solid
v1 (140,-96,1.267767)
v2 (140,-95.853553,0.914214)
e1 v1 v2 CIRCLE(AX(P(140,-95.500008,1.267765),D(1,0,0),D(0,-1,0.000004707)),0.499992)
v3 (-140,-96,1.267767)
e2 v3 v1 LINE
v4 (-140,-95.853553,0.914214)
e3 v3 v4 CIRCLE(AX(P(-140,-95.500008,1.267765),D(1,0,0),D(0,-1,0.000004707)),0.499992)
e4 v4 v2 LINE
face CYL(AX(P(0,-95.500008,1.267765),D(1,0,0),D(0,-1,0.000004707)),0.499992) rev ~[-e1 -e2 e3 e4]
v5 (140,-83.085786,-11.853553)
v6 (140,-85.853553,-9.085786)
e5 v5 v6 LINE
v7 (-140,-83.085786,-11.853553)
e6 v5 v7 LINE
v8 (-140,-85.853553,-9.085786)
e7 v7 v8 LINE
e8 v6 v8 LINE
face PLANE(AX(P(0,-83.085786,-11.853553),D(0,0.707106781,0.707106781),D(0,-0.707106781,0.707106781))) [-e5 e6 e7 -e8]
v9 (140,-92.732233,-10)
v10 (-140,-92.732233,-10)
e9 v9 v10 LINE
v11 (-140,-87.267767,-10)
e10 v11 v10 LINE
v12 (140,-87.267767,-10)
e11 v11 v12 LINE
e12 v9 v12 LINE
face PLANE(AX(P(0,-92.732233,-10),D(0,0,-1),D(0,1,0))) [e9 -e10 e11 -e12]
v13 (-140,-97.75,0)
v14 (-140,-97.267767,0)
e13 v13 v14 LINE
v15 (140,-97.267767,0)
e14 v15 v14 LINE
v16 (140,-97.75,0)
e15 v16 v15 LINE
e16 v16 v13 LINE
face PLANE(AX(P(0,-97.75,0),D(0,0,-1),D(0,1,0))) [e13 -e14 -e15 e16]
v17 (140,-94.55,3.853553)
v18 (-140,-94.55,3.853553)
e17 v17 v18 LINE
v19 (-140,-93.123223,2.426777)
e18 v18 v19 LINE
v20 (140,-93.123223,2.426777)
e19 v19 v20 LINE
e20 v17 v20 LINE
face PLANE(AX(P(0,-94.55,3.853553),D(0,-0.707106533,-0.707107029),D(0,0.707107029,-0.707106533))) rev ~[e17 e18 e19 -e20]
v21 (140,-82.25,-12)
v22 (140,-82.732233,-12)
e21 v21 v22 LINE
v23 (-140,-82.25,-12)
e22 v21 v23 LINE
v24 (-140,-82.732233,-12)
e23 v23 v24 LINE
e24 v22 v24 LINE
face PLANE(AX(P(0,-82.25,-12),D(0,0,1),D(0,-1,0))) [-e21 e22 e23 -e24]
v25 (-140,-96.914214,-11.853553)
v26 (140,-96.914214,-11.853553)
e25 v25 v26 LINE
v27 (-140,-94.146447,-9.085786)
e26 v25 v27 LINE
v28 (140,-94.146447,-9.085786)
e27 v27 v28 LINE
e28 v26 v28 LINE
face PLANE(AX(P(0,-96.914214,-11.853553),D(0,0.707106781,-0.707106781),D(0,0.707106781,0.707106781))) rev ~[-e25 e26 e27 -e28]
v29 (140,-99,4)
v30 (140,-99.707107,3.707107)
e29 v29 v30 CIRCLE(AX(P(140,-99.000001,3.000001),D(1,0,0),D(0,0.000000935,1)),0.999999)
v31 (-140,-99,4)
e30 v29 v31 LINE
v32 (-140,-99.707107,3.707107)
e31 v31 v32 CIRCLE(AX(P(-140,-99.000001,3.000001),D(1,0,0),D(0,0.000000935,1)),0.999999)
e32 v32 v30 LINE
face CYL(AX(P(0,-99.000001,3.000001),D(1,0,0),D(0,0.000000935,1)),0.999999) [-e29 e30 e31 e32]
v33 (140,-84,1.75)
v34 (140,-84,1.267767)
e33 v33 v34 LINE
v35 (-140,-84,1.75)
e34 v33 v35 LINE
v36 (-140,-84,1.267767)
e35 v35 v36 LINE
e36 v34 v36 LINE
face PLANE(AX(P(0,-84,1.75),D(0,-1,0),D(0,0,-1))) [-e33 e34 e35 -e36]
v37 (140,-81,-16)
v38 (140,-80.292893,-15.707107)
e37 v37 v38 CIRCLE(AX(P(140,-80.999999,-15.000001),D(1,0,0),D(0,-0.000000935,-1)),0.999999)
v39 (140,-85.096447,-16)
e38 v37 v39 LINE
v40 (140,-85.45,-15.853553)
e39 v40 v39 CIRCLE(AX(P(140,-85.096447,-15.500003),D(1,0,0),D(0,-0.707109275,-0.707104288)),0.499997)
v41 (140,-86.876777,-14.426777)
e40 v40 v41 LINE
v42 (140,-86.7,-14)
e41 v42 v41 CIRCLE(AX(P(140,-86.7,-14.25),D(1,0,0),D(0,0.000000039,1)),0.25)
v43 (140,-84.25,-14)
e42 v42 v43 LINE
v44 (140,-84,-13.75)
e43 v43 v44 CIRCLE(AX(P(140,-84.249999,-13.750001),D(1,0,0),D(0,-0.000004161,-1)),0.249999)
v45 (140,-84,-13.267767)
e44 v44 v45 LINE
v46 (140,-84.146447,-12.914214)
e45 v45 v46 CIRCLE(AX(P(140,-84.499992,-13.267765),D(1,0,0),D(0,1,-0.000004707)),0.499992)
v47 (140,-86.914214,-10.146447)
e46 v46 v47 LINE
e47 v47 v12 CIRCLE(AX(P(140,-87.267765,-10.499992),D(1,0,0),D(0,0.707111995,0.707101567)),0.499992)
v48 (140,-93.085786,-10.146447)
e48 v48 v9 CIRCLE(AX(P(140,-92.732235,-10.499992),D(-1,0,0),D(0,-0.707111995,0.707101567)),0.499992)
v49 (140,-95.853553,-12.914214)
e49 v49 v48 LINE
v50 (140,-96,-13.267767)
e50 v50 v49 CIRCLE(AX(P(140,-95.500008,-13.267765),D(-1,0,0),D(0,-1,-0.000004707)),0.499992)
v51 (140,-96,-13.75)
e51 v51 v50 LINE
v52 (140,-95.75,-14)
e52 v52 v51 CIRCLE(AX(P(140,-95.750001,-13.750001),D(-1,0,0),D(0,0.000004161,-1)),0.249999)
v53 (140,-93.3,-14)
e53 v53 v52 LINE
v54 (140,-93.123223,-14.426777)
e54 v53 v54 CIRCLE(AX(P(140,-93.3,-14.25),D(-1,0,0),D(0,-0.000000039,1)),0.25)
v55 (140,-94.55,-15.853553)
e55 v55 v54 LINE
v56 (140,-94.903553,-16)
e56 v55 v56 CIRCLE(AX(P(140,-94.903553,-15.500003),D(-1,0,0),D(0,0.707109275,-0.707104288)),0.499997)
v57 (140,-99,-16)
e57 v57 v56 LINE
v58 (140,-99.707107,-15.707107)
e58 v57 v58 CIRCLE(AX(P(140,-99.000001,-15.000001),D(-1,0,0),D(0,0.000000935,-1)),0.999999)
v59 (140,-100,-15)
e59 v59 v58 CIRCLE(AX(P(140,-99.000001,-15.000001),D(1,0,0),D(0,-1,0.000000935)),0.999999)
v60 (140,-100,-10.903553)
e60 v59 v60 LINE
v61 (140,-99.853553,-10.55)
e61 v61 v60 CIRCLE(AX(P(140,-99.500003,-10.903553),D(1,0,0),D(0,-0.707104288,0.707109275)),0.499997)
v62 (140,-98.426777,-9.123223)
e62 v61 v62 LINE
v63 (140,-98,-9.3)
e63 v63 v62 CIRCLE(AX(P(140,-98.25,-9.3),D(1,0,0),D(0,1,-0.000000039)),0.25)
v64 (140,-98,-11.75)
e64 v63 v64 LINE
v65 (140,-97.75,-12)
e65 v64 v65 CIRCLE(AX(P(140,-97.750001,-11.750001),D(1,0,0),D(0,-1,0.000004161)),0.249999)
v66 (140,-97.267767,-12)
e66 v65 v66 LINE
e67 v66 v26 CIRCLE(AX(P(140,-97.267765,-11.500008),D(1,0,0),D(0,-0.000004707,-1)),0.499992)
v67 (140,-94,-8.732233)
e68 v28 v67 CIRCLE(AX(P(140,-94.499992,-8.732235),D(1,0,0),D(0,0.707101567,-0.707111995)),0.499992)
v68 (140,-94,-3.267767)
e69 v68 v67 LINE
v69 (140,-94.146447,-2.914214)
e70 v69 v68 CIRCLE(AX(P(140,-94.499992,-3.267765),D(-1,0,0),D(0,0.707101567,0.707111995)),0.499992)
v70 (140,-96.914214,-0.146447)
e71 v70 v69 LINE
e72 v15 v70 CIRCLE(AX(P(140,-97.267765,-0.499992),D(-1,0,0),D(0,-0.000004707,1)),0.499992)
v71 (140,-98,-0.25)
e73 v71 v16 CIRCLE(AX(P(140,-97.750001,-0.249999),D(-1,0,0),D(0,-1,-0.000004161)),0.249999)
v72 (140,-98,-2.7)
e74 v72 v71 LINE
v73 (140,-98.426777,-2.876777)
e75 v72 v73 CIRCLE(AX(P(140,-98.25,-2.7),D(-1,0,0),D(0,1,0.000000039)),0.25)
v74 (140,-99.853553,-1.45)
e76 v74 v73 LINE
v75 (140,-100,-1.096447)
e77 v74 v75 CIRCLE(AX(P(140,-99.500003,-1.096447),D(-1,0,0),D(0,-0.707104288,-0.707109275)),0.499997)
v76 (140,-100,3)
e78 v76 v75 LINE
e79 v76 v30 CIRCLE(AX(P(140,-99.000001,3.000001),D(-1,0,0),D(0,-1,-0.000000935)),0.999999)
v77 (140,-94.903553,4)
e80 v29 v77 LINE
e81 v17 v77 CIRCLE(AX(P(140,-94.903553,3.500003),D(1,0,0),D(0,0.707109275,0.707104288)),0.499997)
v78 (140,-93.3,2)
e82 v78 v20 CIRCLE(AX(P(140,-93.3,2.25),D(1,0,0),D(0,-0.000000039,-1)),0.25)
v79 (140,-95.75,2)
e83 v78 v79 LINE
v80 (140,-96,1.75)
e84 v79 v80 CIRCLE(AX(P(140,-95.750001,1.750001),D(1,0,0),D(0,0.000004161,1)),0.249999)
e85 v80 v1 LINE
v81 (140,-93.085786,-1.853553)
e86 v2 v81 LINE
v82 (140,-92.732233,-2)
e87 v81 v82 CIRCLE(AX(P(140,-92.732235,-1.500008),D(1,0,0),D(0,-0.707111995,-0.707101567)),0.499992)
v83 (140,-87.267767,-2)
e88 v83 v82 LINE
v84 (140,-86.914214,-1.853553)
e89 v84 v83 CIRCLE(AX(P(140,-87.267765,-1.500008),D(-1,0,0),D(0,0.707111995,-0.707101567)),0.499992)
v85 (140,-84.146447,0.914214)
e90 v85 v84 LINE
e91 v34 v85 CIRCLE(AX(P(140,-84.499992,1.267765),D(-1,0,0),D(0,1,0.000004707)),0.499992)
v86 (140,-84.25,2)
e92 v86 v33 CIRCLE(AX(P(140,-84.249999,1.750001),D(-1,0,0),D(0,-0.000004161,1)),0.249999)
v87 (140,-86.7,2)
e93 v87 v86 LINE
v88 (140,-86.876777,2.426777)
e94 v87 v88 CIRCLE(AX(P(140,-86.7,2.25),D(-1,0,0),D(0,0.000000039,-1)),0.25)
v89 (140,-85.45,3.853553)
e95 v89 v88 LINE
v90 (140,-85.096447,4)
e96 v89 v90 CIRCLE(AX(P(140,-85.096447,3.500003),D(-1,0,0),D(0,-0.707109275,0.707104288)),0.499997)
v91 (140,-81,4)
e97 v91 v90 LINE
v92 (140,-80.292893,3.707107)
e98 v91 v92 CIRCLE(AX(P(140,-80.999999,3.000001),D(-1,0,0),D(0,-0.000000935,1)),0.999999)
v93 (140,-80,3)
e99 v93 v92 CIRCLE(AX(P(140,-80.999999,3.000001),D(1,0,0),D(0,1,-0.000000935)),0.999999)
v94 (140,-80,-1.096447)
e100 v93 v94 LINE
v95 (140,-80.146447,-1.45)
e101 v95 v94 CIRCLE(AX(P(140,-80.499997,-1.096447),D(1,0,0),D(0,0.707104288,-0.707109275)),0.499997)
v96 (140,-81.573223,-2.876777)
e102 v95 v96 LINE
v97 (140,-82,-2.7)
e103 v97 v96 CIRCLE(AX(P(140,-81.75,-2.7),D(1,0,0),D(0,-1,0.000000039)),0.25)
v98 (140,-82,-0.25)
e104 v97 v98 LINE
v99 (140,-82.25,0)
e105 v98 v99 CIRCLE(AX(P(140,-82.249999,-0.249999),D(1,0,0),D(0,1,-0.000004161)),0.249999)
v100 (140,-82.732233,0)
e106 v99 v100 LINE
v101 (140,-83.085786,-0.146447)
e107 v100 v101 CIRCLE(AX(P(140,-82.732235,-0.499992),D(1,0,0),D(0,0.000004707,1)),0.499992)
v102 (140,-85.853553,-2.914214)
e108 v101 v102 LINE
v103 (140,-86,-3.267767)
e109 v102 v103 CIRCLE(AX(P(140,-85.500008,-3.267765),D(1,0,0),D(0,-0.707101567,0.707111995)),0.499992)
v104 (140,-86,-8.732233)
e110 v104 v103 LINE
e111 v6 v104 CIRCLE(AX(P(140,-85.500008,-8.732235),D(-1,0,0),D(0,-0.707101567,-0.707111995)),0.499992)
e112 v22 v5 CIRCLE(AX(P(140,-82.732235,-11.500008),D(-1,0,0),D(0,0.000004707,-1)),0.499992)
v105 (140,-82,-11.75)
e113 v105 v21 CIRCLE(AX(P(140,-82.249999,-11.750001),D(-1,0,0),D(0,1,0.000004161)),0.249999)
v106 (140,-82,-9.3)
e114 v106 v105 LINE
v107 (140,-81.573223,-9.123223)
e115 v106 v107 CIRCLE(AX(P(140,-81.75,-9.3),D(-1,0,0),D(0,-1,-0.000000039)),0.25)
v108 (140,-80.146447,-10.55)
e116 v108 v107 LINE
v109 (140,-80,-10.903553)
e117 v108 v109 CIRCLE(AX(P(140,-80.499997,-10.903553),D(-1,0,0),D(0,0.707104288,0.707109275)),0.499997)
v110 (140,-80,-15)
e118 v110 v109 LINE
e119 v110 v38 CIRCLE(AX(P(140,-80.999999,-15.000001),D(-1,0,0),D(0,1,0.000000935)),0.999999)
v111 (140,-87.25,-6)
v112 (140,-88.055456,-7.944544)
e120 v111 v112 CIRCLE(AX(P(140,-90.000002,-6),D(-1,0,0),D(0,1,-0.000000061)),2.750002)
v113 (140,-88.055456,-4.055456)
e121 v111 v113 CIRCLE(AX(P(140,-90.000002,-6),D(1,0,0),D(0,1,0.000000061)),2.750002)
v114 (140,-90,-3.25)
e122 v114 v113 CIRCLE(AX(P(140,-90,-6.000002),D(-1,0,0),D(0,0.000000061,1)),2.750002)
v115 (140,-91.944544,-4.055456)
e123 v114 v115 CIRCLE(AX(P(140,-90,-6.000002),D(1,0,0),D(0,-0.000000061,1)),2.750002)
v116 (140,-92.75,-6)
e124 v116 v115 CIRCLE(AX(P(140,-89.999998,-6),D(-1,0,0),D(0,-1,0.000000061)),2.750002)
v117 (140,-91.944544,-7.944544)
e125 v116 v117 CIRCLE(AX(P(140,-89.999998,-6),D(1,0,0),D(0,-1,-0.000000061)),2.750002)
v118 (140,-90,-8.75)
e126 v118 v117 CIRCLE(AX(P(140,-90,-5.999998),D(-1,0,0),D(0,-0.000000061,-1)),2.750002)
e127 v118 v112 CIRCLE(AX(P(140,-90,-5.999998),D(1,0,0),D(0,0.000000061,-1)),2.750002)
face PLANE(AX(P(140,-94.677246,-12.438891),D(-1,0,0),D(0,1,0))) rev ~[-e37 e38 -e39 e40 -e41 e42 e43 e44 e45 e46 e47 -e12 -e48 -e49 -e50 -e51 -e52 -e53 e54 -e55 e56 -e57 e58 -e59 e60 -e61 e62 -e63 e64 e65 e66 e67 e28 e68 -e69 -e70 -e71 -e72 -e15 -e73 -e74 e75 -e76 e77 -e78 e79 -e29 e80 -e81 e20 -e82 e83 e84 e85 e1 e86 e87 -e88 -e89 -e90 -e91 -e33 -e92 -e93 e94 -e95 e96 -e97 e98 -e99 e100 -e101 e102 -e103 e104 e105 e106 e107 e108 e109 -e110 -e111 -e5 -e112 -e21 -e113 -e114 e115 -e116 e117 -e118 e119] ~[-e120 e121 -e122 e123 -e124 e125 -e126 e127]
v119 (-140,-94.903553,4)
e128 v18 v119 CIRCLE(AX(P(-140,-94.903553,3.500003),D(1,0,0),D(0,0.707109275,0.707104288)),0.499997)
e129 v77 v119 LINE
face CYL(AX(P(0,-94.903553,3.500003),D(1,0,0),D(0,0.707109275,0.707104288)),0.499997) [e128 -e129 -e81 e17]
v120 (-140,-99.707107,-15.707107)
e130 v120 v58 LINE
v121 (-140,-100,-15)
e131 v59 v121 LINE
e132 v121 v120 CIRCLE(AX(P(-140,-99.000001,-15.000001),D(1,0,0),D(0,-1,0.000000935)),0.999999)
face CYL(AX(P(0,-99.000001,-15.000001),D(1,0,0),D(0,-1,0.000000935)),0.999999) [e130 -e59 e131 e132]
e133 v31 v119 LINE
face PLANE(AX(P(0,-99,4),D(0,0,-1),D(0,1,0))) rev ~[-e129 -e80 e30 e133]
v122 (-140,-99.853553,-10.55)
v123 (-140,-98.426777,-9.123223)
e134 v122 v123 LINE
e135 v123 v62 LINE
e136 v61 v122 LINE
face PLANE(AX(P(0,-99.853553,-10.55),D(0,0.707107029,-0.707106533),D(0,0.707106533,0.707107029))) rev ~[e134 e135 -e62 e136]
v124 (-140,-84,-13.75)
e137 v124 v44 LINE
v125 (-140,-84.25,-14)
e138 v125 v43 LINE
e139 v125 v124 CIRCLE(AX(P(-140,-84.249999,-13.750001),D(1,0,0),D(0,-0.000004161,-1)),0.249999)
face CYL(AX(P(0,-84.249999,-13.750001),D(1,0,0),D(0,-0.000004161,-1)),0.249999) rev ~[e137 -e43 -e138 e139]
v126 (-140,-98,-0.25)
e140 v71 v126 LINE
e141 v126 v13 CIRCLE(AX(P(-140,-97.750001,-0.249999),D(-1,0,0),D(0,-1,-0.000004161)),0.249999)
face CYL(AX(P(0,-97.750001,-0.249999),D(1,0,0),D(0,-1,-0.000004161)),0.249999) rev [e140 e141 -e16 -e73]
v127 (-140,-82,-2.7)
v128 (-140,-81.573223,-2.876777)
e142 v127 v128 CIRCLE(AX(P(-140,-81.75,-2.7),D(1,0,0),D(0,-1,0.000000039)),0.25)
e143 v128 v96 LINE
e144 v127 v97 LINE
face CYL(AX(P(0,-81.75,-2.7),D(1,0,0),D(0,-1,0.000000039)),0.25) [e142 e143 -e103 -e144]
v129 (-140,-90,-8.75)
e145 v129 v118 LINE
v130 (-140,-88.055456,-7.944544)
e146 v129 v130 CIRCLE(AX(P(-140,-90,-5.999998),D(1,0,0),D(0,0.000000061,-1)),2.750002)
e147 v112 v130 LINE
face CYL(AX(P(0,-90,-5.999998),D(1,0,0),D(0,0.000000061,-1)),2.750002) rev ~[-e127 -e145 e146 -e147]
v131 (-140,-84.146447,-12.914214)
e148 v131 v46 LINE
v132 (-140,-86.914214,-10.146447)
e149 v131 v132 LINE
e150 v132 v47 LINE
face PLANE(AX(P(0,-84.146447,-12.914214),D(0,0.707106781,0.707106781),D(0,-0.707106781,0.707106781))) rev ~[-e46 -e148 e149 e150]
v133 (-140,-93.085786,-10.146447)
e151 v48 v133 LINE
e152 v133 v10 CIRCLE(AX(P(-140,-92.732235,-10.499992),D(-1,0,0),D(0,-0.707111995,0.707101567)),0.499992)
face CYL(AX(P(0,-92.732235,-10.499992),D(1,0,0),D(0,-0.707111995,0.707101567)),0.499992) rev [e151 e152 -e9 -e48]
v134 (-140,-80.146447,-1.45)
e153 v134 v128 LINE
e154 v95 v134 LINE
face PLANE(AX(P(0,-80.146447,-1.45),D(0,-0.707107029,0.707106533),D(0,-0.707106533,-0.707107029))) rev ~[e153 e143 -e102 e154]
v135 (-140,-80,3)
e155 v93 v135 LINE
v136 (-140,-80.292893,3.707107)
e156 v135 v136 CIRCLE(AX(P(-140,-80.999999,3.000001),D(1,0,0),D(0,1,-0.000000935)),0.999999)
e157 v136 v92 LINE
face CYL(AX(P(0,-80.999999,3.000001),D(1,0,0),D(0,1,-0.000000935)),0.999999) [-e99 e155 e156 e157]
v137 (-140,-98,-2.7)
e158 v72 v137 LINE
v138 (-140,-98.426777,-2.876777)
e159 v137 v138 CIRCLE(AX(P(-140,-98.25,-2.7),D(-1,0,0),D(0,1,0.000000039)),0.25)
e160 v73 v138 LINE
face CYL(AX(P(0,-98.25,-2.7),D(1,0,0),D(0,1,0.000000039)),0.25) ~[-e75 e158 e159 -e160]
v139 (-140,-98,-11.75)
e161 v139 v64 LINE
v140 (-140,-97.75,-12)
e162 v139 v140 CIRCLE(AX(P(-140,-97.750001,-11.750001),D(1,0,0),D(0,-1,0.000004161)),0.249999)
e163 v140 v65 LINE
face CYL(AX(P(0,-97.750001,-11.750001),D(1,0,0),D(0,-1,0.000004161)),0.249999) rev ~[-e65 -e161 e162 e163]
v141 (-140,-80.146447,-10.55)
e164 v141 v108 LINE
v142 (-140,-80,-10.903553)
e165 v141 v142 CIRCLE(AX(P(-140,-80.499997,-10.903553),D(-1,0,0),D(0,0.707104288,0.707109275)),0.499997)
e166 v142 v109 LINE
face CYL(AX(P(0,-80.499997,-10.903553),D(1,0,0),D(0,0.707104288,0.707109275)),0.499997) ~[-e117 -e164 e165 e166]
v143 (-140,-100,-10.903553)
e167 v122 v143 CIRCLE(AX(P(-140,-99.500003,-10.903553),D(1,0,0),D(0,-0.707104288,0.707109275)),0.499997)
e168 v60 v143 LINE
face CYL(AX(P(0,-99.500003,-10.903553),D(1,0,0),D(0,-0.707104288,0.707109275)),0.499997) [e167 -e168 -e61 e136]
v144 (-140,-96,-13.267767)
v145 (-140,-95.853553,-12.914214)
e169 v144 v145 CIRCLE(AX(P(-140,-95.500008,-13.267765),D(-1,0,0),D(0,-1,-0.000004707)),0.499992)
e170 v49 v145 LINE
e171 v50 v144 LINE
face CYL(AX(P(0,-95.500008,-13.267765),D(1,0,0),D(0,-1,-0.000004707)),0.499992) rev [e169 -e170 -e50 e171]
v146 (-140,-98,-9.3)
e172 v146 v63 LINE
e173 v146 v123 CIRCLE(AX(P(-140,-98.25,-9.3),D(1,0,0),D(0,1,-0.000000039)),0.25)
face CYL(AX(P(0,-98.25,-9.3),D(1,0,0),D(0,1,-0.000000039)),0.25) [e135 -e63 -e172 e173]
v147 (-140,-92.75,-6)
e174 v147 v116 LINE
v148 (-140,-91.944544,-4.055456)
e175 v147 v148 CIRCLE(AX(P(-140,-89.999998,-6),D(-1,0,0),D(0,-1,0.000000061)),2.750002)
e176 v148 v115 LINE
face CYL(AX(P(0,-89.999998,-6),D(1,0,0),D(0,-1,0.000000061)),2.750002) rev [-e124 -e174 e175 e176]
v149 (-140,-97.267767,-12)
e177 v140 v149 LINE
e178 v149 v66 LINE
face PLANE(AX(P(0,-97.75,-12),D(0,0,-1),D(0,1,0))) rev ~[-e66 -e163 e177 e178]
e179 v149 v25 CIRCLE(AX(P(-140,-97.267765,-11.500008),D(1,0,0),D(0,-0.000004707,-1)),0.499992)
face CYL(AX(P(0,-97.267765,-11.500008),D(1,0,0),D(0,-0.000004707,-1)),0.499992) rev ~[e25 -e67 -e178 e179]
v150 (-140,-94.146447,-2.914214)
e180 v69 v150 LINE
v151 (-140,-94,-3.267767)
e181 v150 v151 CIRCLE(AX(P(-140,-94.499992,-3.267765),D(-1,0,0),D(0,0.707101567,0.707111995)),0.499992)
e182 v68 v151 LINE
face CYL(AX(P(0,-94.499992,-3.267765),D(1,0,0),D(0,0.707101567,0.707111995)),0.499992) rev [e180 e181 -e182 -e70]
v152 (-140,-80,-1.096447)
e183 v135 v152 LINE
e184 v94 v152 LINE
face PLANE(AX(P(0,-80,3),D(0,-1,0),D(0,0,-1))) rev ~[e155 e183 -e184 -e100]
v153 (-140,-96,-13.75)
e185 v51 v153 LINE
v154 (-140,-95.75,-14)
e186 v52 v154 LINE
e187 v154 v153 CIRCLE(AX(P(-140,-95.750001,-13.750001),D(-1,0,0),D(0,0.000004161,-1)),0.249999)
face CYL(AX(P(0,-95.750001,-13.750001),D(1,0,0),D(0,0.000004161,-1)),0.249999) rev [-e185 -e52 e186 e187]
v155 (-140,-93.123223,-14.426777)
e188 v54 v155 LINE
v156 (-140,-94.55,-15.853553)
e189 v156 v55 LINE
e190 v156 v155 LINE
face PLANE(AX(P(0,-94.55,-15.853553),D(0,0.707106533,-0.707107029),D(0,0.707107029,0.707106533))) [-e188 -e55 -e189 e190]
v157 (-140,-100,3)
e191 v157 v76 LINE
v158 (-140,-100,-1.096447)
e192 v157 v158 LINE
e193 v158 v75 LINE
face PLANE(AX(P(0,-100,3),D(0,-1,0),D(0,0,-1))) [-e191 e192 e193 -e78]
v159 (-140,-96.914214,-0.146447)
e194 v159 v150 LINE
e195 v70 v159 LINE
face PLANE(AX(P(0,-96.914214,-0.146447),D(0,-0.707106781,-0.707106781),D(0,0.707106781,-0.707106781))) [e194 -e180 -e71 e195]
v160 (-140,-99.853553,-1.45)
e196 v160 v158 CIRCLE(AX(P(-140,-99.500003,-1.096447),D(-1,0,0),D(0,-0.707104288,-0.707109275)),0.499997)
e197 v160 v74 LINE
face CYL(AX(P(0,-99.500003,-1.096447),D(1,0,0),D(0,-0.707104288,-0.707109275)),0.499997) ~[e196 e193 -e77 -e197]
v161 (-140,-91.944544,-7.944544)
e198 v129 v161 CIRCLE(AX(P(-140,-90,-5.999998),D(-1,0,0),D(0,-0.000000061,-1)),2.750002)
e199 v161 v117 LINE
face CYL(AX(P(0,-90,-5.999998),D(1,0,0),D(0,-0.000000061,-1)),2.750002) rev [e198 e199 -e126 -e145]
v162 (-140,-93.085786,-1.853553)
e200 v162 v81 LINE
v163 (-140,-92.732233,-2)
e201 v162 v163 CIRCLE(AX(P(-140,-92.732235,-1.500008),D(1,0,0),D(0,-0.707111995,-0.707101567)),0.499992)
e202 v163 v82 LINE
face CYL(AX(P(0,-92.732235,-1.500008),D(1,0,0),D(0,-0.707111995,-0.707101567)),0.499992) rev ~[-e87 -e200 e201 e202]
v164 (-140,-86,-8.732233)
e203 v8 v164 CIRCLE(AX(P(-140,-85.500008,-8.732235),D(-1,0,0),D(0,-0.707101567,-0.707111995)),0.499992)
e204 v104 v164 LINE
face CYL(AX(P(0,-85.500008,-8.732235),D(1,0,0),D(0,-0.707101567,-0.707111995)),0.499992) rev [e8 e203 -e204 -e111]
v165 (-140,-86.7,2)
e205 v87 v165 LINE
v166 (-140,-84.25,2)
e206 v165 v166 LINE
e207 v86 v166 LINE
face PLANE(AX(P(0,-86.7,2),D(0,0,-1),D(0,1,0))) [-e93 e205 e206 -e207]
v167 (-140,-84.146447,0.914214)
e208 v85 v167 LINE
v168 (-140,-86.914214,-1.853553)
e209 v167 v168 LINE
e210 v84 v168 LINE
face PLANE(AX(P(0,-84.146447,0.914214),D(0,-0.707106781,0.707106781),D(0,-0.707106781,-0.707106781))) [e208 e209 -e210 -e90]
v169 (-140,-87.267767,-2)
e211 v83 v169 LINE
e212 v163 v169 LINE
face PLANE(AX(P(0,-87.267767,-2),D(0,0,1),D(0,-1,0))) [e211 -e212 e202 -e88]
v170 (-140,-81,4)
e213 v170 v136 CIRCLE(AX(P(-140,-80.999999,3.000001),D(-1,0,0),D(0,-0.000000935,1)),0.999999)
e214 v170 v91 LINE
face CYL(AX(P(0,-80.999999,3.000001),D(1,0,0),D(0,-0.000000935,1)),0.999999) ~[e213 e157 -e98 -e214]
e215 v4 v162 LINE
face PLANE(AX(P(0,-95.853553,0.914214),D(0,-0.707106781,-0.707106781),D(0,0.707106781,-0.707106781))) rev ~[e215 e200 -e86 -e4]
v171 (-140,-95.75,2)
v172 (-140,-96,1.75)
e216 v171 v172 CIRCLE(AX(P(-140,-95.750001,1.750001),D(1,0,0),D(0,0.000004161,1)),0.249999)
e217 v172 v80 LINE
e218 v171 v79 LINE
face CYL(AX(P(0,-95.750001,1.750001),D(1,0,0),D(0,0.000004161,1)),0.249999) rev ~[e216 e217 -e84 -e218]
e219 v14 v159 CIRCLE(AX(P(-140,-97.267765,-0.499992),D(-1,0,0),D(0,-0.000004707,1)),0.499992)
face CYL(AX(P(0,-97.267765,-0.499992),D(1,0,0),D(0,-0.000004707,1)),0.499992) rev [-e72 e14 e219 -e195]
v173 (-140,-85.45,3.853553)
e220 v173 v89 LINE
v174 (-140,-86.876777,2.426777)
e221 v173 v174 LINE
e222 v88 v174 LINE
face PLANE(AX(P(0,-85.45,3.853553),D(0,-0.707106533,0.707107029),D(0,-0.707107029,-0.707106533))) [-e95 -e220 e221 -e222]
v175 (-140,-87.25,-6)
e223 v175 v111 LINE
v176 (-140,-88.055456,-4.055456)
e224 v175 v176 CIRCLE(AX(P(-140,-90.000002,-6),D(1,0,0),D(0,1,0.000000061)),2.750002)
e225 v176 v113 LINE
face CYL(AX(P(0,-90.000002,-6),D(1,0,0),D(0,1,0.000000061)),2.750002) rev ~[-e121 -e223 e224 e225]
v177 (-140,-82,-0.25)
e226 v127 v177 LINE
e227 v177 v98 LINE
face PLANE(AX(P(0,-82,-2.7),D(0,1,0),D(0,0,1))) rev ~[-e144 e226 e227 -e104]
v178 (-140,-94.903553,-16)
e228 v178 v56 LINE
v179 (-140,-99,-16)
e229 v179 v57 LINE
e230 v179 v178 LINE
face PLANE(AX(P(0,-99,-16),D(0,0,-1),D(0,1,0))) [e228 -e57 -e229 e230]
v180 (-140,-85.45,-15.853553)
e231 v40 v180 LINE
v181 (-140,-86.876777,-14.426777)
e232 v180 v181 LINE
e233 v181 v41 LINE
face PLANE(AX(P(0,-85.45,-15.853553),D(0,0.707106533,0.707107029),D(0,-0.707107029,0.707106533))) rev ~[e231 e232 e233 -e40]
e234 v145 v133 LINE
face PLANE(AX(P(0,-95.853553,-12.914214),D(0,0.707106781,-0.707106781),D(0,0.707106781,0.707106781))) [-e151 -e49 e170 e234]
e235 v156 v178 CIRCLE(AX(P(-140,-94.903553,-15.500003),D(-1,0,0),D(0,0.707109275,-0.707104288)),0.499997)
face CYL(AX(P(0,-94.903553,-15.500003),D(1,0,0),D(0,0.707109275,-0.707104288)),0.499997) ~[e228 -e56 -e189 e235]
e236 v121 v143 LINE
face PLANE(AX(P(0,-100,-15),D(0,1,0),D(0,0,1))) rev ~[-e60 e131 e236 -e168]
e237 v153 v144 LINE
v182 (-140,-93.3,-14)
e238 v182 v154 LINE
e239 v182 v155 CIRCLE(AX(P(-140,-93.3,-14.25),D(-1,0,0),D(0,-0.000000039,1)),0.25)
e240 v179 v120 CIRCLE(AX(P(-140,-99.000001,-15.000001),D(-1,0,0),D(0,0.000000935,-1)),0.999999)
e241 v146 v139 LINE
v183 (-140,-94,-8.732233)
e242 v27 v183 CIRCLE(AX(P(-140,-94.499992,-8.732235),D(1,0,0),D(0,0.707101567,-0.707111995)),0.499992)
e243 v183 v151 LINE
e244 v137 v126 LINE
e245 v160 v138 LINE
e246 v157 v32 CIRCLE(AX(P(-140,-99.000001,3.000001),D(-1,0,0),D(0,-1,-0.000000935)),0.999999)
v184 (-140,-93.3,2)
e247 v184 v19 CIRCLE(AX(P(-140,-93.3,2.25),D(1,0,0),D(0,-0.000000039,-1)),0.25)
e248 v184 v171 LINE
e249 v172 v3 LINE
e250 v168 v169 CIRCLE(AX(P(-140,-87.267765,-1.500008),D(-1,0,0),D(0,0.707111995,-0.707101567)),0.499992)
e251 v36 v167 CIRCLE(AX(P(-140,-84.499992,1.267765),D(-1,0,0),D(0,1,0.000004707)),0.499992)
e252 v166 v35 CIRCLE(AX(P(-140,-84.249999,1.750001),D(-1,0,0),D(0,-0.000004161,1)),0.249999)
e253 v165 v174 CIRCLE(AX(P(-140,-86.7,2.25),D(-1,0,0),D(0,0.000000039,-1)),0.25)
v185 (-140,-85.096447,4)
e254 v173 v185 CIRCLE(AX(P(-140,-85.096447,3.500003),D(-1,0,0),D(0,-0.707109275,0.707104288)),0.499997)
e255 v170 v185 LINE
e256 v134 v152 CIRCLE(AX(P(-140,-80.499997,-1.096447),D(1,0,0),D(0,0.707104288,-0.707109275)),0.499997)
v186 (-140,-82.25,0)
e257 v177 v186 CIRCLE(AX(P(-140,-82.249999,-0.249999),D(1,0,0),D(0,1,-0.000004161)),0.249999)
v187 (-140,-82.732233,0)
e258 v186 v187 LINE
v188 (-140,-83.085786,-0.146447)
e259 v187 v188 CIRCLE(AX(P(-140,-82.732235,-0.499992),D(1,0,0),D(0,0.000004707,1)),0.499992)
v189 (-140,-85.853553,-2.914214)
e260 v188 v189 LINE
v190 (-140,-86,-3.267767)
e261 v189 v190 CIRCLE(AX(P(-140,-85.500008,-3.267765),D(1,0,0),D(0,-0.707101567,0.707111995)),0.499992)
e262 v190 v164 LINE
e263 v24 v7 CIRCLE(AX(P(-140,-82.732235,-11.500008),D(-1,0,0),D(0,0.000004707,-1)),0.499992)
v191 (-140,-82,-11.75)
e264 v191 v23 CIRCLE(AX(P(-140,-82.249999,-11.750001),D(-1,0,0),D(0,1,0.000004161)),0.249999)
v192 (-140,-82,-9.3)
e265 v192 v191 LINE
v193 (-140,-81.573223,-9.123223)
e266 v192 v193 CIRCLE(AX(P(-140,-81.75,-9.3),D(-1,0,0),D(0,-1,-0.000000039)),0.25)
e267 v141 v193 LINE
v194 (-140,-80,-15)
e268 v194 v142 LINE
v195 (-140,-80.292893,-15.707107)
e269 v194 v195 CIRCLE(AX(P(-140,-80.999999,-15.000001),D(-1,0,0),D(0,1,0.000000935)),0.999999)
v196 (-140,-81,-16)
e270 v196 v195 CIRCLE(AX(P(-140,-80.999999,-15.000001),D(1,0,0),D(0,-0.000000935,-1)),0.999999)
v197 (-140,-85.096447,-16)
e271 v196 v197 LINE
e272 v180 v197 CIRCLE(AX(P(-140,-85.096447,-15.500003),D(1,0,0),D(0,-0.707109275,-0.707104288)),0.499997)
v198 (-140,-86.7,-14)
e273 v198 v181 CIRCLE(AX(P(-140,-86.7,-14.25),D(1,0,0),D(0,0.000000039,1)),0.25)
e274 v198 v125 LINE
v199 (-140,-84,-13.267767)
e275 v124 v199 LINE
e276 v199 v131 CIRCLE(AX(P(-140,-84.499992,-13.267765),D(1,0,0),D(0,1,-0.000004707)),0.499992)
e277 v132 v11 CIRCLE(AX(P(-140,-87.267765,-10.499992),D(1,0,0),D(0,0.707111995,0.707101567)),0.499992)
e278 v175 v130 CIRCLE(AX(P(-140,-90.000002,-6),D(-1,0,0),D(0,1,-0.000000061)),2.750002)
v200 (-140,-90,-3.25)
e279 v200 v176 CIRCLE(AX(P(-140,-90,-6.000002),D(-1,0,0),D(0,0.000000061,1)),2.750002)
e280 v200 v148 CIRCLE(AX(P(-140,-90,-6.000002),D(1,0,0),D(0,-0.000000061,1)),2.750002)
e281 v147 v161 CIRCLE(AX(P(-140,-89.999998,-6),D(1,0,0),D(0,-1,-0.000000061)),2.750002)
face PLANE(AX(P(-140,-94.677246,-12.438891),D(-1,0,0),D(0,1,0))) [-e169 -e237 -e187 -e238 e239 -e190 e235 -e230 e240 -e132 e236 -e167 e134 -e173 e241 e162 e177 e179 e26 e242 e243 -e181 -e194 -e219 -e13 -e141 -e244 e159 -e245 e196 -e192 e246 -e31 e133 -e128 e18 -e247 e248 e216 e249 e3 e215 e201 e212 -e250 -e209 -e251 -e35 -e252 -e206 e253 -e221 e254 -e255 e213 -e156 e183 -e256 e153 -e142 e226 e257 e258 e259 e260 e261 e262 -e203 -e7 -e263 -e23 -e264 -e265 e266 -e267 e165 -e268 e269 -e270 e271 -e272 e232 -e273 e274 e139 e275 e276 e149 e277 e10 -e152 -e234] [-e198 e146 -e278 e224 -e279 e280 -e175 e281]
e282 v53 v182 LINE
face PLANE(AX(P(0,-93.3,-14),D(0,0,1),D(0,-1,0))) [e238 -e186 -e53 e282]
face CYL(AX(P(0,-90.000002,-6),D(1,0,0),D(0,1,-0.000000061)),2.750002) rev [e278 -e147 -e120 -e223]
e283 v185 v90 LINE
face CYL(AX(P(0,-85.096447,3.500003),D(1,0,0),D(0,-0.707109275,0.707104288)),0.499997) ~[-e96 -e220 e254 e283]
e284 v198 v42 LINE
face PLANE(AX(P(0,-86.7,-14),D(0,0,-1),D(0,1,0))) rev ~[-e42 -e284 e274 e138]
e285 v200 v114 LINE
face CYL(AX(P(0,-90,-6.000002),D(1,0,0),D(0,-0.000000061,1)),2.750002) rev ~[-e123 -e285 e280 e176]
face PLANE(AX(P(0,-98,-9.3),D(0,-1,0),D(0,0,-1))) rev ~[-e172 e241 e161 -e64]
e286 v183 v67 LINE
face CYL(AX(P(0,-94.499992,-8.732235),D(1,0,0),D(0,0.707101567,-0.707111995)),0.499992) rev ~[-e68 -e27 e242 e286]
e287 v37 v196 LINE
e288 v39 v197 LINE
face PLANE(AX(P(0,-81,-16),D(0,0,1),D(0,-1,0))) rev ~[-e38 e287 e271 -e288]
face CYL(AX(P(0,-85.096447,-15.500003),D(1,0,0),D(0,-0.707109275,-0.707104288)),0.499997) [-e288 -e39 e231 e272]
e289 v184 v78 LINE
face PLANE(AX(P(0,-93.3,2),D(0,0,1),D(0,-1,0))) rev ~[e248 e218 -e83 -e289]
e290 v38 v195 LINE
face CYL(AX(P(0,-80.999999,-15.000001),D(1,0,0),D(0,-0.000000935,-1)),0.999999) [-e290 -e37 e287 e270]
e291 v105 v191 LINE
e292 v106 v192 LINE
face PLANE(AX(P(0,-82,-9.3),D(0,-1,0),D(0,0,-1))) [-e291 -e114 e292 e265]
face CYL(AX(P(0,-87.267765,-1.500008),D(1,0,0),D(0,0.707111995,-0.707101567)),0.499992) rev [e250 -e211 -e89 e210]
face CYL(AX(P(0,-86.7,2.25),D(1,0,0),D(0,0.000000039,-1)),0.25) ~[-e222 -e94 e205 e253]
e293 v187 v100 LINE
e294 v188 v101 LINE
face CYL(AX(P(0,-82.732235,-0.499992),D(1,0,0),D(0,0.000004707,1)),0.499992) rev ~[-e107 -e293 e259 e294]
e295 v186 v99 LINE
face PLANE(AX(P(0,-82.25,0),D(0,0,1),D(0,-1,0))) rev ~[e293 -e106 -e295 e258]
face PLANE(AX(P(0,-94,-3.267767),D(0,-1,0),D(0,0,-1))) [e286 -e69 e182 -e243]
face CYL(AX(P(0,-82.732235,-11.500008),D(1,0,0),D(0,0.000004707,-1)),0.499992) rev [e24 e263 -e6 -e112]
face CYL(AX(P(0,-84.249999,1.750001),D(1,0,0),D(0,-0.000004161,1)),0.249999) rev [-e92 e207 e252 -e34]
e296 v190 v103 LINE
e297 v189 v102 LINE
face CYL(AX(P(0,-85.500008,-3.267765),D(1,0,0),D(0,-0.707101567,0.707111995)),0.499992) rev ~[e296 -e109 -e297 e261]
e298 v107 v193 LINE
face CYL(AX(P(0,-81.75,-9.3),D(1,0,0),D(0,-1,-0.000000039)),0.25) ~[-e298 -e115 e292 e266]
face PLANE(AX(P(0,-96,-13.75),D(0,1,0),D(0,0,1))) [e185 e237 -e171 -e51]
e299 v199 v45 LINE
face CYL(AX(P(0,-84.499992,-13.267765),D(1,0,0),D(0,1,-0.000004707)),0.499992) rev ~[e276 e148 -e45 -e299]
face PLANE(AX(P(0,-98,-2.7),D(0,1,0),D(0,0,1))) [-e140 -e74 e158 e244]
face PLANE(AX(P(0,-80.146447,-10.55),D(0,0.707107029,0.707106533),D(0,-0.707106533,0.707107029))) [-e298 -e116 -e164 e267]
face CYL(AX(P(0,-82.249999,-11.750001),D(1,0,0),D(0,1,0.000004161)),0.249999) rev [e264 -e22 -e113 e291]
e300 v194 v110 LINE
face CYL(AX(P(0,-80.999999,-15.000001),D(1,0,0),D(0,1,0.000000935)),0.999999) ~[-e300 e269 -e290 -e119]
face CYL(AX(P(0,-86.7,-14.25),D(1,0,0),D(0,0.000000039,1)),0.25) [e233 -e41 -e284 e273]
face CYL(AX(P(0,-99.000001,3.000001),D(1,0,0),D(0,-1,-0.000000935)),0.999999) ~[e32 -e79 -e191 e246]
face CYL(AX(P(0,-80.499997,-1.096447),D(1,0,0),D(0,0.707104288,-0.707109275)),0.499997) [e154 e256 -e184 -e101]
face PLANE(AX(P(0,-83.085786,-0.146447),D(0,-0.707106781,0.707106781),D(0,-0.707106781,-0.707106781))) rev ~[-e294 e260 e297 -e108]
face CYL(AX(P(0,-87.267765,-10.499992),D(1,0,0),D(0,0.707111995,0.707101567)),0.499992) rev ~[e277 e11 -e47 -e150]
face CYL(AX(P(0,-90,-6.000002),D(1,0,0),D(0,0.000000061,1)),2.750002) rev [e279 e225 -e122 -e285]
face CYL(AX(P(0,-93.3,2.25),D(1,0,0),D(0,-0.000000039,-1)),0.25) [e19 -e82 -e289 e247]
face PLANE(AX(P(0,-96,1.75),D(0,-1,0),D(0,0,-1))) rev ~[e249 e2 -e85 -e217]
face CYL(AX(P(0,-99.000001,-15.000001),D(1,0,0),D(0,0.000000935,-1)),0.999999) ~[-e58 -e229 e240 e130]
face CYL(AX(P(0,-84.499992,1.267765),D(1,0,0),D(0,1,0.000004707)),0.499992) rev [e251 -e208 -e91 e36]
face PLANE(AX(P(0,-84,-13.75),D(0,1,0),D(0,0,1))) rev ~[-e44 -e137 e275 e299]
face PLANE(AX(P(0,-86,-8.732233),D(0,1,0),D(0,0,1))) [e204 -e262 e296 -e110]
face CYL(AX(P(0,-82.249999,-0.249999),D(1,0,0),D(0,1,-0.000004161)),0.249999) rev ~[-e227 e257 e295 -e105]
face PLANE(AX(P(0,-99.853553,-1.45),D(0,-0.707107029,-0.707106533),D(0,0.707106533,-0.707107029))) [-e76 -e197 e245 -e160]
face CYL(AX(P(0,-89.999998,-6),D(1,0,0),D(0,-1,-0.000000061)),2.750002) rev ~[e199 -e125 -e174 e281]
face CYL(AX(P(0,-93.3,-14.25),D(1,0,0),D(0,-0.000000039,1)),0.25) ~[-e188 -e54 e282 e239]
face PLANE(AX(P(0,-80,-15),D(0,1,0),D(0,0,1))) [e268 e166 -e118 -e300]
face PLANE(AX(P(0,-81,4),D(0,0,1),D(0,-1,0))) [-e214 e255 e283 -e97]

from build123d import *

# Parameters (mm, degrees)
PAD060_DEPTH               = 140
PAD060_MIRRORED007_2_DEPTH = 140
POLARPATTERN001_COUNT      = 4
BODY124_PLACEMENT_ANGLE    = 90


with BuildPart() as part:
    # Sketch255 → Pad060 (new body, symmetric)
    with BuildSketch(Plane.XY):
        with BuildLine():
            ThreePointArc((-9, 10), (-9.382683, 9.92388), (-9.707107, 9.707107))
            Line((-9.707107, 9.707107), (-1.944544, 1.944544))
            ThreePointArc((0, 2.75), (-1.052379, 2.540669), (-1.944544, 1.944544))
            Line((0, 2.75), (0, 4))
            Line((-2.732233, 4), (0, 4))
            ThreePointArc((-3.085786, 4.146447), (-2.923575, 4.03806), (-2.732233, 4))
            Line((-5.853553, 6.914214), (-3.085786, 4.146447))
            ThreePointArc((-6, 7.267767), (-5.96194, 7.076425), (-5.853553, 6.914214))
            Line((-6, 7.75), (-6, 7.267767))
            ThreePointArc((-5.75, 8), (-5.926777, 7.926777), (-6, 7.75))
            Line((-3.3, 8), (-5.75, 8))
            ThreePointArc((-3.3, 8), (-3.06903, 8.154329), (-3.123223, 8.426777))
            Line((-4.55, 9.853553), (-3.123223, 8.426777))
            ThreePointArc((-4.55, 9.853553), (-4.712212, 9.96194), (-4.903553, 10))
            Line((-9, 10), (-4.903553, 10))
        make_face()
    pad060 = extrude(amount=PAD060_DEPTH, both=True)

    # Sketch255 Mirrored007 2 → Pad060 Mirrored007 2 (add, symmetric)
    with BuildSketch(Plane(origin=(0, 0, 0), x_dir=(-1, 0, 0), z_dir=(0, 0, -1))):
        with BuildLine():
            ThreePointArc((-9, 10), (-9.382683, 9.92388), (-9.707107, 9.707107))
            Line((-9.707107, 9.707107), (-1.944544, 1.944544))
            ThreePointArc((0, 2.75), (-1.052379, 2.540669), (-1.944544, 1.944544))
            Line((0, 2.75), (0, 4))
            Line((-2.732233, 4), (0, 4))
            ThreePointArc((-3.085786, 4.146447), (-2.923575, 4.03806), (-2.732233, 4))
            Line((-5.853553, 6.914214), (-3.085786, 4.146447))
            ThreePointArc((-6, 7.267767), (-5.96194, 7.076425), (-5.853553, 6.914214))
            Line((-6, 7.75), (-6, 7.267767))
            ThreePointArc((-5.75, 8), (-5.926777, 7.926777), (-6, 7.75))
            Line((-3.3, 8), (-5.75, 8))
            ThreePointArc((-3.3, 8), (-3.06903, 8.154329), (-3.123223, 8.426777))
            Line((-4.55, 9.853553), (-3.123223, 8.426777))
            ThreePointArc((-4.55, 9.853553), (-4.712212, 9.96194), (-4.903553, 10))
            Line((-9, 10), (-4.903553, 10))
        make_face()
    pad060_mirrored007_2 = extrude(amount=-PAD060_MIRRORED007_2_DEPTH, both=True)

    # PolarPattern001: Pad060, Pad060 Mirrored007 2 ×4 about axis
    polarpattern001_axis = Axis((0, 0, 0), (0, 0, 1))
    for i in range(1, POLARPATTERN001_COUNT):
        add(pad060.rotate(polarpattern001_axis, i * 360 / POLARPATTERN001_COUNT))
        add(pad060_mirrored007_2.rotate(polarpattern001_axis, i * 360 / POLARPATTERN001_COUNT))


with BuildPart() as part_1:
    # Body124 placement: moved
    add(part.part.moved(Location((0, -90, -6))).rotate(Axis((0, -90, -6), (0, 1, 0)), BODY124_PLACEMENT_ANGLE))


solid = part_1.part
